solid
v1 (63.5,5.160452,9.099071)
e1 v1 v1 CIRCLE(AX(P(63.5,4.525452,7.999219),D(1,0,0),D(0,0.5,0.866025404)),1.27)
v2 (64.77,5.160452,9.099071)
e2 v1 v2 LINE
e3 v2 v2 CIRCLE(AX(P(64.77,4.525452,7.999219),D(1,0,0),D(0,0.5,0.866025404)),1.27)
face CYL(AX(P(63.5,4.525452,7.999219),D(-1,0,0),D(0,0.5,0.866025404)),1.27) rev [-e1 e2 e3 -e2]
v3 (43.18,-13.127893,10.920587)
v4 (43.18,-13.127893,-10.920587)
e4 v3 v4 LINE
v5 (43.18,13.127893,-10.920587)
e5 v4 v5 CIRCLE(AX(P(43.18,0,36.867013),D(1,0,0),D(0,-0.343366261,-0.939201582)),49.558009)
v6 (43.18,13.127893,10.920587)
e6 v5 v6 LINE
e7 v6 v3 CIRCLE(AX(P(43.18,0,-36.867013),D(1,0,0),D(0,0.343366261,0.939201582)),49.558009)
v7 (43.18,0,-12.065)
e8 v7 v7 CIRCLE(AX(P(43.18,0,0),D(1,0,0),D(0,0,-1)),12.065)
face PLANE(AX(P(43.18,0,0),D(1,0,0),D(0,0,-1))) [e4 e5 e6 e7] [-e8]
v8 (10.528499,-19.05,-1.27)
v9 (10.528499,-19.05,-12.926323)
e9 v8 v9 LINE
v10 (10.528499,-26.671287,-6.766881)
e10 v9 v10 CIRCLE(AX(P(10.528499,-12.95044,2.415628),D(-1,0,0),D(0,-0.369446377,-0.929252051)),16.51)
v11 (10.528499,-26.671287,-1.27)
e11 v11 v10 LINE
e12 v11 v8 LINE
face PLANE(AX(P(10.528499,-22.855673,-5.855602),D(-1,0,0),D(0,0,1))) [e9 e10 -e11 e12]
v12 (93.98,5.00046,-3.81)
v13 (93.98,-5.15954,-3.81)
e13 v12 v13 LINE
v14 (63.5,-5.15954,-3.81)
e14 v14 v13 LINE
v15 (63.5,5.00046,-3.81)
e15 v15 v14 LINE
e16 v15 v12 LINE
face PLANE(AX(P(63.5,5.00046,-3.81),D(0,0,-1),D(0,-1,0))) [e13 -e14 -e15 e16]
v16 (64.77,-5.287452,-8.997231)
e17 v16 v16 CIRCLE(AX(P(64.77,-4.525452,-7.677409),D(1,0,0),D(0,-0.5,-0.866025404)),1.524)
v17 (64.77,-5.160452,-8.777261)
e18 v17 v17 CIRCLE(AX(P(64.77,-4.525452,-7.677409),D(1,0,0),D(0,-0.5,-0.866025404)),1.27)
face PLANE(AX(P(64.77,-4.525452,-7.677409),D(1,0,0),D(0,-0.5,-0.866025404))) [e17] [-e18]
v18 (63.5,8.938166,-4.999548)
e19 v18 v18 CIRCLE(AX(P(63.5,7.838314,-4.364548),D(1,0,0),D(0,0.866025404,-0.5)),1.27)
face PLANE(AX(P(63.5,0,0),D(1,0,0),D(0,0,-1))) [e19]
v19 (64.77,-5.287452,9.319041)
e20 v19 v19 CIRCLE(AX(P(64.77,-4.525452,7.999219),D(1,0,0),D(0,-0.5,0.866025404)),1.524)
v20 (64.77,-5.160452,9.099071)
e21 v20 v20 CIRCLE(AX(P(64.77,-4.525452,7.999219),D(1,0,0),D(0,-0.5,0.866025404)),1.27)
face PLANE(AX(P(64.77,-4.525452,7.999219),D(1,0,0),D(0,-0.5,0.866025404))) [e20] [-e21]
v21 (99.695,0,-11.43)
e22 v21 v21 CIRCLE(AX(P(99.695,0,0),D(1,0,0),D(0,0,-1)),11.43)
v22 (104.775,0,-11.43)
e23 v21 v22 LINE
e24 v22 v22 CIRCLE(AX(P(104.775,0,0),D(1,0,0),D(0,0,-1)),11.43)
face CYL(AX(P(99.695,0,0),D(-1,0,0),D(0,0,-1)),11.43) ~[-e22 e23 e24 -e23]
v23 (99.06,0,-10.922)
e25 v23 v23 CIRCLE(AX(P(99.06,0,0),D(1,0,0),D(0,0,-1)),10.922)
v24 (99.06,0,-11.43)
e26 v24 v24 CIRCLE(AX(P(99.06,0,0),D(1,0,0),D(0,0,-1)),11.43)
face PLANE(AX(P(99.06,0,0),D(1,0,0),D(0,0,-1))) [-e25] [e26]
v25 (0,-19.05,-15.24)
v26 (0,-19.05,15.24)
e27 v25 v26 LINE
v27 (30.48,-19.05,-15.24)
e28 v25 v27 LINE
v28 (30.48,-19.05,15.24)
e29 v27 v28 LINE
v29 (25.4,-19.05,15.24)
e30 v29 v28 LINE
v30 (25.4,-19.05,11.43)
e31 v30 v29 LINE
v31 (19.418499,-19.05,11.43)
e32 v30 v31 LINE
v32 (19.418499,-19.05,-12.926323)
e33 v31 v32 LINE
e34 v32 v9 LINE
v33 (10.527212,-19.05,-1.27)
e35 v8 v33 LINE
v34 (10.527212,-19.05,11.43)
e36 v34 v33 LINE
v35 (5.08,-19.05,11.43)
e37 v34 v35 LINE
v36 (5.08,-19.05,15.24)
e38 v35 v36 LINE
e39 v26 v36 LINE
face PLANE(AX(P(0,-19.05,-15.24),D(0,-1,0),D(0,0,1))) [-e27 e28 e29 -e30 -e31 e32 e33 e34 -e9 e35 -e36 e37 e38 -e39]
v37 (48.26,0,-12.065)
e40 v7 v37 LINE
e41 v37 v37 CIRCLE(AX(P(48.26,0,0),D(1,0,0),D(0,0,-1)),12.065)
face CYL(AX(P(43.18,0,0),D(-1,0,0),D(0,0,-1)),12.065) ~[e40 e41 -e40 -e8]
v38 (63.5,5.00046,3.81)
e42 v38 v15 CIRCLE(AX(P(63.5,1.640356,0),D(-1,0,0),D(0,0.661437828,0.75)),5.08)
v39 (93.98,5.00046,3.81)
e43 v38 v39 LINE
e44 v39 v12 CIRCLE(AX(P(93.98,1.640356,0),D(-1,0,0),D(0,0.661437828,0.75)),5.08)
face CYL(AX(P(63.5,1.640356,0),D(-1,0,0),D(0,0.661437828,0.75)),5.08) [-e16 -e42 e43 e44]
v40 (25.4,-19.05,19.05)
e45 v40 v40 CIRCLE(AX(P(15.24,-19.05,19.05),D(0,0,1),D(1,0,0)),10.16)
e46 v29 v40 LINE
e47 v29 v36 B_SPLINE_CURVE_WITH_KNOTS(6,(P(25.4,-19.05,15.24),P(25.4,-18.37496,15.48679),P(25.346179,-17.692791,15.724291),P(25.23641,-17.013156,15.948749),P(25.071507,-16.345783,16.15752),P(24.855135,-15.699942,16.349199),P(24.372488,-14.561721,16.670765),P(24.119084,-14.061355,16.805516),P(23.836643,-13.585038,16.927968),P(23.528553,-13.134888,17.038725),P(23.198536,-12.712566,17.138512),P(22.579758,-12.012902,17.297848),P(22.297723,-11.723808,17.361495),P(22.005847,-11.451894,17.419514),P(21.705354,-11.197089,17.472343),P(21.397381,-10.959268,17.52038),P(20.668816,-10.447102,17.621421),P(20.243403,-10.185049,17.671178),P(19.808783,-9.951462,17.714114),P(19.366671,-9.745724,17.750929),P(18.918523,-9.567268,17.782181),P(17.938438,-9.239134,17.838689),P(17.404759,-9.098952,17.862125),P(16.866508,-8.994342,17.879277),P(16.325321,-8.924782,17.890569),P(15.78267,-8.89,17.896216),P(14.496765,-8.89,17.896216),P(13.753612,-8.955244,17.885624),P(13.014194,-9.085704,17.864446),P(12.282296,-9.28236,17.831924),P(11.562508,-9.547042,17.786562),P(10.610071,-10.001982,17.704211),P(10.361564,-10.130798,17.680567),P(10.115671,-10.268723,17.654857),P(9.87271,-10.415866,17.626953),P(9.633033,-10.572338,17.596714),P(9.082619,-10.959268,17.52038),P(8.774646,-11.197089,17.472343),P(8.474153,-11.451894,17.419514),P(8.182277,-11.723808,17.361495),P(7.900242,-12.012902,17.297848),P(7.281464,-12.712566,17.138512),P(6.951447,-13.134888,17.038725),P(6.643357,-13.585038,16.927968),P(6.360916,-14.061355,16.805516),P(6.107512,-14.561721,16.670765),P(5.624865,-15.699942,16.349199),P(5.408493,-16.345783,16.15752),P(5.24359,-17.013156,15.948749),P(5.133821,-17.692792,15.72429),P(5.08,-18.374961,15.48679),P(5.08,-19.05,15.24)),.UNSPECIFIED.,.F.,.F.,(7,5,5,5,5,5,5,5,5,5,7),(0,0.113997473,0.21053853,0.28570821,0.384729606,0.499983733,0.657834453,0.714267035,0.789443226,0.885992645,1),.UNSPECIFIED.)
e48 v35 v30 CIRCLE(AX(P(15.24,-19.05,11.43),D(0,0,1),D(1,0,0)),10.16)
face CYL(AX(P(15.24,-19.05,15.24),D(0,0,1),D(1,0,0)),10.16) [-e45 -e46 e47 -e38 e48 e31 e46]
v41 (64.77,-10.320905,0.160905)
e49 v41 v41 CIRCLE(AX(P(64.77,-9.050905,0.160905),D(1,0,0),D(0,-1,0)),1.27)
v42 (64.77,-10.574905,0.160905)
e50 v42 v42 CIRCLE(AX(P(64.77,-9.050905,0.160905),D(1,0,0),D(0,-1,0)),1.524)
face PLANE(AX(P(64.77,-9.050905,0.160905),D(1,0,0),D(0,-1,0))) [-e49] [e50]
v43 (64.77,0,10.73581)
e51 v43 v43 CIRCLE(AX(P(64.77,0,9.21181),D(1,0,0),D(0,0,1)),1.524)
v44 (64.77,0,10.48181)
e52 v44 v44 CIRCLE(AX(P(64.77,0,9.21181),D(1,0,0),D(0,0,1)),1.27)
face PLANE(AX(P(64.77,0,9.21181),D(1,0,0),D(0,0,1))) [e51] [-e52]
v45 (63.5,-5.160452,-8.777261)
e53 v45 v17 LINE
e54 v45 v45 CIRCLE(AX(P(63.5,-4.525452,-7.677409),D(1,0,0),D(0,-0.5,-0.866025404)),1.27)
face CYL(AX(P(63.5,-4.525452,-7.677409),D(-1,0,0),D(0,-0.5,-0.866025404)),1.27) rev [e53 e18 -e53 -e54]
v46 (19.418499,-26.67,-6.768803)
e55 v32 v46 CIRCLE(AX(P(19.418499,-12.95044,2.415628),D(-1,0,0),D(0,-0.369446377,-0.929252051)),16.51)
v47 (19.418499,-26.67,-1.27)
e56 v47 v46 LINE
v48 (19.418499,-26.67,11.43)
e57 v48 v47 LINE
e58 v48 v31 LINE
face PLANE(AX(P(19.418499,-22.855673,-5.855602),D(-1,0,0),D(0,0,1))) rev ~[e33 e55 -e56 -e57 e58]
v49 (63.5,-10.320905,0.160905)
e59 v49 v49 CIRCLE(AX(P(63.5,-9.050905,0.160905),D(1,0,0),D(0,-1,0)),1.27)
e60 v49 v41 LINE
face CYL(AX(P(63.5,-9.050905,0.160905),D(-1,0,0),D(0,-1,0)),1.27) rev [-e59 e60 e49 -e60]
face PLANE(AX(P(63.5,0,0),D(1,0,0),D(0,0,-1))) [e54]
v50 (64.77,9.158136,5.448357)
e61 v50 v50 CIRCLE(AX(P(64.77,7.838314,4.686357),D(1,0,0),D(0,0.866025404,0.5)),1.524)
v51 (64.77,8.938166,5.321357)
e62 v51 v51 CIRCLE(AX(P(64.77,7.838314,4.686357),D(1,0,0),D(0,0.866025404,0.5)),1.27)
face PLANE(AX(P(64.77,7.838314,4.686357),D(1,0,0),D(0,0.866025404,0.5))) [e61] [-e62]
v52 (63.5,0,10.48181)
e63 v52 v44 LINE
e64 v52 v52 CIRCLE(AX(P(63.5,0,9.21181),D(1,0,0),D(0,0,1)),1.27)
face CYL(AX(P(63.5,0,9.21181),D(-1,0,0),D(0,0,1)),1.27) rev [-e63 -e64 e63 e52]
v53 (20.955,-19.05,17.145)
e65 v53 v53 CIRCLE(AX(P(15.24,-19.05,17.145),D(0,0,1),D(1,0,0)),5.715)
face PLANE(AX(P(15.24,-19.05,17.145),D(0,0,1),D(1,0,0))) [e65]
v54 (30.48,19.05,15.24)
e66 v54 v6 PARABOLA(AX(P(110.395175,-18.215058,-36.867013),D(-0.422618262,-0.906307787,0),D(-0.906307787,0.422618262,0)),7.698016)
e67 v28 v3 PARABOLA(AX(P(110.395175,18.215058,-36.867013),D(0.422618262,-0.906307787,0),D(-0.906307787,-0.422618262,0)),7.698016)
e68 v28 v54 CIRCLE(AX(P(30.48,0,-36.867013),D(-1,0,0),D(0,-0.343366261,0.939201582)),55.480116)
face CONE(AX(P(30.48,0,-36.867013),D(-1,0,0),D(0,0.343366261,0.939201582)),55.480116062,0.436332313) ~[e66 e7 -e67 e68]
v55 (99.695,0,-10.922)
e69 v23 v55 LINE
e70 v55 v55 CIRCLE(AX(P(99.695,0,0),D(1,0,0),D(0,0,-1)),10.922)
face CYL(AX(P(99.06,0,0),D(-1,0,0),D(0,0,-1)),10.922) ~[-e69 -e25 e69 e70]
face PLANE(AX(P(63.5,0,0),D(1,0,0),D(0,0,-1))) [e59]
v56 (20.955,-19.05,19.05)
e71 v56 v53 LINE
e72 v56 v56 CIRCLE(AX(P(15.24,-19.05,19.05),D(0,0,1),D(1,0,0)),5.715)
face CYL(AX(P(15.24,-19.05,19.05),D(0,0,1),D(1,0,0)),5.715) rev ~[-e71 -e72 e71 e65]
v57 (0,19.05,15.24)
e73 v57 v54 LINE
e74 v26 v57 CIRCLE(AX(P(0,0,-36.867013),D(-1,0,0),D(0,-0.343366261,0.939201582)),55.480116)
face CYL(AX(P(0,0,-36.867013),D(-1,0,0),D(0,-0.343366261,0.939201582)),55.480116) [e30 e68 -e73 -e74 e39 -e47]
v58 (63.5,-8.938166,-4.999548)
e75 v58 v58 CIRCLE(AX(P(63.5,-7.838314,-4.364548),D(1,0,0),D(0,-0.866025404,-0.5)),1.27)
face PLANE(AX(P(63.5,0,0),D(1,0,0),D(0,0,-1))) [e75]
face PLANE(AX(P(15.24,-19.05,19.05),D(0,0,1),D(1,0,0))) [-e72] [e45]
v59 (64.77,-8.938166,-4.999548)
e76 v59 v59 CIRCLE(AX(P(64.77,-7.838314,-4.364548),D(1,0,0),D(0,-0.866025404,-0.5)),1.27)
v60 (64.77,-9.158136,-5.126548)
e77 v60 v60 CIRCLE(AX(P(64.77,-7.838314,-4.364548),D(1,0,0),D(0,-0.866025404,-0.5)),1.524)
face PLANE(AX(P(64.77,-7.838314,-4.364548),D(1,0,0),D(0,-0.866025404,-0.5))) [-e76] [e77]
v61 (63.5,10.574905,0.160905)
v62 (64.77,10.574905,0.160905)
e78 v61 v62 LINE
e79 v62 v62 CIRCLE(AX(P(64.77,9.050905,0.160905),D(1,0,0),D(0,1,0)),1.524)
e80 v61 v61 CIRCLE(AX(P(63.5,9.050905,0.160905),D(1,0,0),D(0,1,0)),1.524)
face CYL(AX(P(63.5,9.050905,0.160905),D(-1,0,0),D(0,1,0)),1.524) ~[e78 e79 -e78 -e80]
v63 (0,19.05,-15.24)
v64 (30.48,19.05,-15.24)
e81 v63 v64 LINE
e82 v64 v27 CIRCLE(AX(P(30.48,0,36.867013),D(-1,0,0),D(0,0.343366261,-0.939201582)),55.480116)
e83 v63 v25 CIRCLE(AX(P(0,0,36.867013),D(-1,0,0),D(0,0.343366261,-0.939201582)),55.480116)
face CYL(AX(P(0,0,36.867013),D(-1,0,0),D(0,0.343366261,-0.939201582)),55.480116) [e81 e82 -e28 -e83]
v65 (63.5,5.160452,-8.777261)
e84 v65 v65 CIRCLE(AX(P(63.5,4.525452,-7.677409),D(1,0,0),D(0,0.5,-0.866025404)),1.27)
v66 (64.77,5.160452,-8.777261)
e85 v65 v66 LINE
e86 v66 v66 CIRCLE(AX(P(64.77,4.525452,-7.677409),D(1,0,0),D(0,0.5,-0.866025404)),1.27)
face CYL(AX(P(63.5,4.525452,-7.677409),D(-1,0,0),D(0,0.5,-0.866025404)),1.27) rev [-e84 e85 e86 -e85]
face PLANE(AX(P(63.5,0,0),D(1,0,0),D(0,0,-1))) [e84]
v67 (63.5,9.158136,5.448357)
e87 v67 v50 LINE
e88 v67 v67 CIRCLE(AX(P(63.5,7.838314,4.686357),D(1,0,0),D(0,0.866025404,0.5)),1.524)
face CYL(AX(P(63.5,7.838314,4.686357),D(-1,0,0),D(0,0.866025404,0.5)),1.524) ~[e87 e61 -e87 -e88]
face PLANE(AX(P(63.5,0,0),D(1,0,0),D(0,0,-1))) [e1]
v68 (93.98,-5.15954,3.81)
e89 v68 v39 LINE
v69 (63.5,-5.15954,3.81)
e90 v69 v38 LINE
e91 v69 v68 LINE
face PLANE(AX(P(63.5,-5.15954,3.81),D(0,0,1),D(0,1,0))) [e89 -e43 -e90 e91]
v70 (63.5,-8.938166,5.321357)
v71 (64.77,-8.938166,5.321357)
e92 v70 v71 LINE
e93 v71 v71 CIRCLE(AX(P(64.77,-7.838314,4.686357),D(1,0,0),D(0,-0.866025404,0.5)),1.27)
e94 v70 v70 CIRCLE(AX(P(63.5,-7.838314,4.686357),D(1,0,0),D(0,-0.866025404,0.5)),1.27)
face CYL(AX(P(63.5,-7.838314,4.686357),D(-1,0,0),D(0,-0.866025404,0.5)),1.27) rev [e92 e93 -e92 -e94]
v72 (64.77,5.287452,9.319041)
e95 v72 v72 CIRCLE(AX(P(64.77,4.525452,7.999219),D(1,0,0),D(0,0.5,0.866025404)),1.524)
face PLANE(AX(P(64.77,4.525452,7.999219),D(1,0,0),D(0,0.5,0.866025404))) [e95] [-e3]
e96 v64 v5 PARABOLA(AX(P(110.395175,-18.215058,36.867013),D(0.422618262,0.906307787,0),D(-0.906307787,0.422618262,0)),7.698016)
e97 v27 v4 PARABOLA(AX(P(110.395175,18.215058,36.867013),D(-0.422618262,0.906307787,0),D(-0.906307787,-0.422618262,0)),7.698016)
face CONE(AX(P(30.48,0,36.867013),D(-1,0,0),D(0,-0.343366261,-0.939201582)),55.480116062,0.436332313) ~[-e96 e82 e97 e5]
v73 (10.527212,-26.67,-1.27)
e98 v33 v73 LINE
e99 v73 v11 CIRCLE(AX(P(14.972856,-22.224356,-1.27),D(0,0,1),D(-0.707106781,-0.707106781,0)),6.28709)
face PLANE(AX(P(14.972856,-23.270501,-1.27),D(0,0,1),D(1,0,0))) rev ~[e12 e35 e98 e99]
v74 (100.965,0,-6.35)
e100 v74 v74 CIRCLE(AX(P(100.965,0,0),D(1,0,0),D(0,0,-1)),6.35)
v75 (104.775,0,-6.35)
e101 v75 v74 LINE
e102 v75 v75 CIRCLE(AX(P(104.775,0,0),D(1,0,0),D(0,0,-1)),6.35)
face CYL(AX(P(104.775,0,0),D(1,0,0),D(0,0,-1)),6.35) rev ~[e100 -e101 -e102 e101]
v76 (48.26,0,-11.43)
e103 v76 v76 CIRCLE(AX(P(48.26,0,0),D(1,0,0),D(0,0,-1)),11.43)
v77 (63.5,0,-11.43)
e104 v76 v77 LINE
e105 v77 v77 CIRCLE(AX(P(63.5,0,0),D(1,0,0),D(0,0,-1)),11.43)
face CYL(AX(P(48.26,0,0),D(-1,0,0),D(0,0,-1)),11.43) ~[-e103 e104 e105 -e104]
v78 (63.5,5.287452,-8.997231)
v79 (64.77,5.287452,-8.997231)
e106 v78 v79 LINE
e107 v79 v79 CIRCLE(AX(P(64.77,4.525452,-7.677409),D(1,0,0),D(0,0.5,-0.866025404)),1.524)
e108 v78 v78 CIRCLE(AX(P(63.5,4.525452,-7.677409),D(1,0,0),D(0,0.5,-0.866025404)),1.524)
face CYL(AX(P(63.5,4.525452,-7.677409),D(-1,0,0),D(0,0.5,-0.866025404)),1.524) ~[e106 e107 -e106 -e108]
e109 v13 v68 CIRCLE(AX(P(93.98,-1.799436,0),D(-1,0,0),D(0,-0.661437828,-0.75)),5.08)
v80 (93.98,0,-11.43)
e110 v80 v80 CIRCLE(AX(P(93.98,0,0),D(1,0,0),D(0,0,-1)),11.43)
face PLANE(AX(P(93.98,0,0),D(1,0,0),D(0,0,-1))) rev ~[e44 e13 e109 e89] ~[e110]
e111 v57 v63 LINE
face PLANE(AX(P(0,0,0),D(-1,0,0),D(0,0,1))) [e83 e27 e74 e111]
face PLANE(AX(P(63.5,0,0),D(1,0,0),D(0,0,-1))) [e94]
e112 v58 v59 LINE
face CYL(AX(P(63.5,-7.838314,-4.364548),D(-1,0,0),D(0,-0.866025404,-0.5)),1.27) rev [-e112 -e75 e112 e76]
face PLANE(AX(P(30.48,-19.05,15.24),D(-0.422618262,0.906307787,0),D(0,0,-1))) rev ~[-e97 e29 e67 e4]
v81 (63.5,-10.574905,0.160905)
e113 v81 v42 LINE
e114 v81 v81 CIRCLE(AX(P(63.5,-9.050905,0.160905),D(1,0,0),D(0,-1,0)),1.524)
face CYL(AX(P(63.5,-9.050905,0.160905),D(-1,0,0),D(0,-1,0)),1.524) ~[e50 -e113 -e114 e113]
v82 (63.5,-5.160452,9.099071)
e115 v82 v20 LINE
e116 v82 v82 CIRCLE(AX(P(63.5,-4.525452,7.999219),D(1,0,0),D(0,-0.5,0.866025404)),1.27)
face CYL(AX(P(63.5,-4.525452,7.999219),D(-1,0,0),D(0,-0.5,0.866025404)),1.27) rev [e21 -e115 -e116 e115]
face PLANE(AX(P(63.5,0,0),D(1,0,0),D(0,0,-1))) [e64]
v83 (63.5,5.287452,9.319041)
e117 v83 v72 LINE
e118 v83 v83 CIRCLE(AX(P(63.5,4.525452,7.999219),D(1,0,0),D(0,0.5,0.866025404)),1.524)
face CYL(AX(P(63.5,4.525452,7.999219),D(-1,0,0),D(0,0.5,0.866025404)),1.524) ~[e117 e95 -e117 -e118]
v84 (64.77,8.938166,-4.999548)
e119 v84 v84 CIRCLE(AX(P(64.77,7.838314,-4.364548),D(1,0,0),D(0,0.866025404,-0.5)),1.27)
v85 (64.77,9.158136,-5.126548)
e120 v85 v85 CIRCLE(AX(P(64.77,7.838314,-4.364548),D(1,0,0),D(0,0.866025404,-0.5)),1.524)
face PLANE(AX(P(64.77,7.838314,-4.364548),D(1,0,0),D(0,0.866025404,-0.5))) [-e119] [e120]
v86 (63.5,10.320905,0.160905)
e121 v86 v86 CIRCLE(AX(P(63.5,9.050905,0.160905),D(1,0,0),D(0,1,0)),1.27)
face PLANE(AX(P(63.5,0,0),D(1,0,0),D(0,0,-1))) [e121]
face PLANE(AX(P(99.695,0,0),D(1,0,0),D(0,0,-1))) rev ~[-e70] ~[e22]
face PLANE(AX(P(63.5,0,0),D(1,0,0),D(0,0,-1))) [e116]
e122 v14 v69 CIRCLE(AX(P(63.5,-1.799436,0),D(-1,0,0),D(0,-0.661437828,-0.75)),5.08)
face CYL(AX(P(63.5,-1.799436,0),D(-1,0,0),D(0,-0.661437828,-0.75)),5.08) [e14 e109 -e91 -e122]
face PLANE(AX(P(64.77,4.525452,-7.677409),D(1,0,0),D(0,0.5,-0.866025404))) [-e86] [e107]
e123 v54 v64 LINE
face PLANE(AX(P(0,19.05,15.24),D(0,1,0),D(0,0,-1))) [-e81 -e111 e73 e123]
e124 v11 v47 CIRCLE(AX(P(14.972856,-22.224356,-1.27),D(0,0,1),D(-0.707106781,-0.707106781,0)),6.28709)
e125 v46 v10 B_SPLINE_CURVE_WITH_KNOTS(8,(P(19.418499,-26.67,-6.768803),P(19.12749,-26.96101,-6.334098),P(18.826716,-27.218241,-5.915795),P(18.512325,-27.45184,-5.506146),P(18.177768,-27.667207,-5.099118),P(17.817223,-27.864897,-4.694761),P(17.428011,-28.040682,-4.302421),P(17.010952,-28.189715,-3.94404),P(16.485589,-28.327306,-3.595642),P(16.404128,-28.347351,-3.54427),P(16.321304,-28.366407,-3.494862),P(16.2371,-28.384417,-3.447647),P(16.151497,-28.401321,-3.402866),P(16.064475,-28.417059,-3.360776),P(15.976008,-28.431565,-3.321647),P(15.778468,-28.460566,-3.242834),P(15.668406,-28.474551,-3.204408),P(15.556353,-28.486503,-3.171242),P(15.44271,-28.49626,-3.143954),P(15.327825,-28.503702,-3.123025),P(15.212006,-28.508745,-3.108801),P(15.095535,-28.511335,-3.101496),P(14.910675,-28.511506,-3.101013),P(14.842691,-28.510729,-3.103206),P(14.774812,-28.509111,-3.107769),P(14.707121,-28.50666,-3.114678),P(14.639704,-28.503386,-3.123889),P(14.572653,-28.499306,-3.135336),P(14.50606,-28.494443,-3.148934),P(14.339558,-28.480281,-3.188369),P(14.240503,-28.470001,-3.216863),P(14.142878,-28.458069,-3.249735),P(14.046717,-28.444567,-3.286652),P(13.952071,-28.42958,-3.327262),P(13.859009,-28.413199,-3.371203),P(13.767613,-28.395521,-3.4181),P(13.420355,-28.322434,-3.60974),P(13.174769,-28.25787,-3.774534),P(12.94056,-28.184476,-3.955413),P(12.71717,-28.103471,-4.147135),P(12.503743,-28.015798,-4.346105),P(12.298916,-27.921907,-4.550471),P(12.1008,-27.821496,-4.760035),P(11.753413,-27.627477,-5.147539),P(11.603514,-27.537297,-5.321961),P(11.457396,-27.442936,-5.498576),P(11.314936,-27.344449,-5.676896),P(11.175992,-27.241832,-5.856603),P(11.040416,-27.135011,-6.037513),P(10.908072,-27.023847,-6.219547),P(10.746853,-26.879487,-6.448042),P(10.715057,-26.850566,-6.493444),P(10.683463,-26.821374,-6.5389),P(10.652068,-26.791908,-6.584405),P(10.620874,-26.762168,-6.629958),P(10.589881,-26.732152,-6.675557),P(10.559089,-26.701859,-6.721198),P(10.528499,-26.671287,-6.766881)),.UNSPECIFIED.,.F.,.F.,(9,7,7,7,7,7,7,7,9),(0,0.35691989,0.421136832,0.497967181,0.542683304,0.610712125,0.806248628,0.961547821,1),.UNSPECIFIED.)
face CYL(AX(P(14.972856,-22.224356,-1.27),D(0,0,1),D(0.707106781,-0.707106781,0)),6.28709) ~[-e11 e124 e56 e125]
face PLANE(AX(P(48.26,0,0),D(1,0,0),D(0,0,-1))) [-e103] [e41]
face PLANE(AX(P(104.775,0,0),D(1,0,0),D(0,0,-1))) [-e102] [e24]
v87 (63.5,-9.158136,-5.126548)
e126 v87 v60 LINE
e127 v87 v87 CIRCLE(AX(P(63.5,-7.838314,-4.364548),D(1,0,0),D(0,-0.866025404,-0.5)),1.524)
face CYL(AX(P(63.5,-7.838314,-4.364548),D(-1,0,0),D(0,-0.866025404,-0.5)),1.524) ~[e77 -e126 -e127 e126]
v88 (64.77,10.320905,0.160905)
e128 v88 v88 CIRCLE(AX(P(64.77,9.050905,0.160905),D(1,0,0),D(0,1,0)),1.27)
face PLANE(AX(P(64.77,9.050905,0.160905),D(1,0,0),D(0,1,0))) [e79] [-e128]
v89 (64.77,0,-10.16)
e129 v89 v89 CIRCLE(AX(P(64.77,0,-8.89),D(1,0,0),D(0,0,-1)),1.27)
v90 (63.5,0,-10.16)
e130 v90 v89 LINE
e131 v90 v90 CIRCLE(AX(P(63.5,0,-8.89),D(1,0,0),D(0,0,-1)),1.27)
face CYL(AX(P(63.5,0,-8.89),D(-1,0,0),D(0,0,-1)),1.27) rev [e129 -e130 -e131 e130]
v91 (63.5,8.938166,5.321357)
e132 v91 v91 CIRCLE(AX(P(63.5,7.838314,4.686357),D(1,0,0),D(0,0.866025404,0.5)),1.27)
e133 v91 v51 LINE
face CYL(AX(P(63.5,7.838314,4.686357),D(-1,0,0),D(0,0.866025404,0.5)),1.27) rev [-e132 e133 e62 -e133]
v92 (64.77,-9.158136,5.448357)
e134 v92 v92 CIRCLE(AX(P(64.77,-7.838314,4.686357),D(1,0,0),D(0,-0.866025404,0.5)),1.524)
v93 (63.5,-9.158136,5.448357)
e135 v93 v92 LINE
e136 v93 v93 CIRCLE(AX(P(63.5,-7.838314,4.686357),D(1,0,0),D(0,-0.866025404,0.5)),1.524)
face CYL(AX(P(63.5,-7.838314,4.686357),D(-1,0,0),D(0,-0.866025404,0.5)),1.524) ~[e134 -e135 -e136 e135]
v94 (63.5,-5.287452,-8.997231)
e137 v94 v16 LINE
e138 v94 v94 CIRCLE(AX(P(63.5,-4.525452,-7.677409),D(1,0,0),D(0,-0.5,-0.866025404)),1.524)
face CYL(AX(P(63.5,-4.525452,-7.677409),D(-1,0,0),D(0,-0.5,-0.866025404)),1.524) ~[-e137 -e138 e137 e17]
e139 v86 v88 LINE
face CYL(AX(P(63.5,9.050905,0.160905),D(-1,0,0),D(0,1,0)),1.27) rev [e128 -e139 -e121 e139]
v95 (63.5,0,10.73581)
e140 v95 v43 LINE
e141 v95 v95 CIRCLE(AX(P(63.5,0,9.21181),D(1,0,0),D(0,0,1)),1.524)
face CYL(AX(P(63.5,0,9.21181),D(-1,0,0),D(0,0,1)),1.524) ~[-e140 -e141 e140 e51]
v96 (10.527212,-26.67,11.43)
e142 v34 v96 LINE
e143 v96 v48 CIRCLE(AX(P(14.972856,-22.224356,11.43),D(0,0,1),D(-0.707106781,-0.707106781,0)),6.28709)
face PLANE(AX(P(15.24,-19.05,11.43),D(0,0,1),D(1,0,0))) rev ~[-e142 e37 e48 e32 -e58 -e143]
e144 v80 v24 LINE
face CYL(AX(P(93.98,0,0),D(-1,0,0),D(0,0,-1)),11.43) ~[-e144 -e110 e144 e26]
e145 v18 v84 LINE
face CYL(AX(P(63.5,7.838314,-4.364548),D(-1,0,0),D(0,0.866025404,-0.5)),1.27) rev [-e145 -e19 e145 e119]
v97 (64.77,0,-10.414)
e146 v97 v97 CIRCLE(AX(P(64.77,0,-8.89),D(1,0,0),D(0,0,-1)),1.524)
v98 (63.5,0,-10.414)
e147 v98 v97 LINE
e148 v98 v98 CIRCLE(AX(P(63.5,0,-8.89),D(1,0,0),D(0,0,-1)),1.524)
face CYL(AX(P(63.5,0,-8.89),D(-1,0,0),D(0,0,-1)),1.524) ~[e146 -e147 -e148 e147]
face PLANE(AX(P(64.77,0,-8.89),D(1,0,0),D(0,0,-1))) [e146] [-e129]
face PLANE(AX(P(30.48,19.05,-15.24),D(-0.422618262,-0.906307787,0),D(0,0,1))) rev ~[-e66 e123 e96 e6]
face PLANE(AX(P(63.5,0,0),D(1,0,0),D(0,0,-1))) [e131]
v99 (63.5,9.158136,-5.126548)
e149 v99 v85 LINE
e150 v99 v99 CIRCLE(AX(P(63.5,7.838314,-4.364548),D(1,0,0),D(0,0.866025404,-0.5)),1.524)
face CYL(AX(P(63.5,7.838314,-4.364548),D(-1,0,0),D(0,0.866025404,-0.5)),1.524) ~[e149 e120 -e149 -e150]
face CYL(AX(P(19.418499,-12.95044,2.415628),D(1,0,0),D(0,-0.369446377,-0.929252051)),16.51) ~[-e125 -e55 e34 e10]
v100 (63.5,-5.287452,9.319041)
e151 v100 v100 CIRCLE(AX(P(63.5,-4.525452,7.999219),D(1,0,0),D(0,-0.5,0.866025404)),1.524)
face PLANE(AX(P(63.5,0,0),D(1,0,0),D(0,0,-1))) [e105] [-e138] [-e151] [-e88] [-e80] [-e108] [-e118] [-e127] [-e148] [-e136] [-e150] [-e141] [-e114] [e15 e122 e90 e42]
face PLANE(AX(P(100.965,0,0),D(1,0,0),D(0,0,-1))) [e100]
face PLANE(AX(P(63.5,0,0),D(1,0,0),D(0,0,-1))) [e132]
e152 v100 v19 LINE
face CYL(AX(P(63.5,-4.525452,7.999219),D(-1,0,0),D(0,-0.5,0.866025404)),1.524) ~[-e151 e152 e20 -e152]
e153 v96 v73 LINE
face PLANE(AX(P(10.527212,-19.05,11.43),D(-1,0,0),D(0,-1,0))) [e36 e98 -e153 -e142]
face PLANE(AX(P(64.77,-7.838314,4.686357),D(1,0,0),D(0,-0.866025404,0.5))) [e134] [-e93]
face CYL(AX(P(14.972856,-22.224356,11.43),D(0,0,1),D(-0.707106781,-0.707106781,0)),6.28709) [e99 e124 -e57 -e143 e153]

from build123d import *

# Parameters (mm, degrees)
BOSS_EXTRUDE1_DEPTH  = 30.48
BOSS_EXTRUDE2_DEPTH  = 12.7
BOSS_EXTRUDE2_DRAFT  = 25
SKETCH9_R            = 12.065
BOSS_EXTRUDE3_DEPTH  = 5.08
SKETCH10_R           = 11.43
BOSS_EXTRUDE4_DEPTH  = 15.24
SKETCH12_R           = 1.524
SKETCH12_R_2         = 1.27
BOSS_EXTRUDE6_DEPTH  = 1.27
CIRPATTERN2_COUNT    = 12
BOSS_EXTRUDE7_DEPTH  = 30.48
SKETCH14_R           = 11.43
BOSS_EXTRUDE8_DEPTH  = 5.08
SKETCH15_R           = 10.922
BOSS_EXTRUDE9_DEPTH  = 0.635
SKETCH16_R           = 11.43
BOSS_EXTRUDE10_DEPTH = 5.08
SKETCH17_R           = 10.16
BOSS_EXTRUDE14_DEPTH = 3.81
BOSS_EXTRUDE15_DEPTH = 12.7
BOSS_EXTRUDE16_DEPTH = 8.89
CUT_EXTRUDE1_DEPTH   = 8.89
SKETCH22_R           = 6.35
CUT_EXTRUDE2_DEPTH   = 3.81
SKETCH23_R           = 5.715
CUT_EXTRUDE4_DEPTH   = 1.905


with BuildPart() as part:
    # Sketch2 → Boss-Extrude1 (new body)
    with BuildSketch(Plane(origin=(0, 0, 0), x_dir=(0, 0, -1), z_dir=(1, 0, 0))):
        with BuildLine():
            Line((-15.24, 19.05), (15.24, 19.05))
            ThreePointArc((15.24, 19.05), (18.613103307, 0), (15.24, -19.05))
            Line((15.24, -19.05), (-15.24, -19.05))
            ThreePointArc((-15.24, -19.05), (-18.613103307, 0), (-15.24, 19.05))
        make_face()
    extrude(amount=BOSS_EXTRUDE1_DEPTH)


with BuildPart() as boss_extrude2_tool:
    # Sketch8 → Boss-Extrude2 (with draft: the straight prism first)
    with BuildSketch(Plane(origin=(30.48, 0, 0), x_dir=(0, 0, -1), z_dir=(1, 0, 0))):
        with BuildLine():
            Line((15.24, 19.05), (-15.24, 19.05))
            ThreePointArc((-15.24, 19.05), (-18.613103307, 0), (-15.24, -19.05))
            Line((-15.24, -19.05), (15.24, -19.05))
            ThreePointArc((15.24, -19.05), (18.613103307, 0), (15.24, 19.05))
        make_face()
    extrude(amount=BOSS_EXTRUDE2_DEPTH)
    # Boss-Extrude2: the draft: its side faces are tilted about the plane it starts from
    boss_extrude2_sides = [boss_extrude2_tool.faces().sort_by_distance(p)[0] for p in [
        (36.83, 19.05, 0),
        (36.83, 0, 18.613103307),
        (36.83, -19.05, 0),
        (36.83, 0, -18.613103307),
    ]]
    draft(boss_extrude2_sides, Plane(origin=(30.48, 0, 0), x_dir=(0, 0, -1), z_dir=(1, 0, 0)), BOSS_EXTRUDE2_DRAFT)


with BuildPart() as part_1:
    add(part.part)

    # Boss-Extrude2: add boss_extrude2_tool
    add(boss_extrude2_tool.part)

    # Sketch9 → Boss-Extrude3 (add)
    with BuildSketch(Plane(origin=(43.18, 0, 0), x_dir=(0, 0, -1), z_dir=(1, 0, 0))):
        Circle(SKETCH9_R)
    extrude(amount=BOSS_EXTRUDE3_DEPTH)

    # Sketch10 → Boss-Extrude4 (add)
    with BuildSketch(Plane(origin=(48.26, 0, 0), x_dir=(0, 0, -1), z_dir=(1, 0, 0))):
        Circle(SKETCH10_R)
    extrude(amount=BOSS_EXTRUDE4_DEPTH)

    # Sketch12 → Boss-Extrude6 (add)
    with BuildSketch(Plane(origin=(63.5, 0, 0), x_dir=(0, 0, -1), z_dir=(1, 0, 0))):
        with Locations((8.89, 0)):
            Circle(SKETCH12_R)
        with Locations((8.89, 0)):
            Circle(SKETCH12_R_2, mode=Mode.SUBTRACT)
    boss_extrude6 = extrude(amount=BOSS_EXTRUDE6_DEPTH)

    # CirPattern2: Boss-Extrude6 ×12 about axis
    cirpattern2_axis = Axis((0, 0, 0.160904977), (1, 0, 0))
    for i in range(1, CIRPATTERN2_COUNT):
        add(boss_extrude6.rotate(cirpattern2_axis, i * 360 / CIRPATTERN2_COUNT))

    # Sketch13 → Boss-Extrude7 (add)
    with BuildSketch(Plane(origin=(63.5, 0, 0), x_dir=(0, 0, -1), z_dir=(1, 0, 0))):
        with BuildLine():
            Line((3.81, 5.000460116), (3.81, -5.159539884))
            ThreePointArc((3.81, -5.159539884), (0, -6.879435719), (-3.81, -5.159539884))
            Line((-3.81, -5.159539884), (-3.81, 5.000460116))
            ThreePointArc((-3.81, 5.000460116), (0, 6.720355951), (3.81, 5.000460116))
        make_face()
    extrude(amount=BOSS_EXTRUDE7_DEPTH)

    # Sketch14 → Boss-Extrude8 (add)
    with BuildSketch(Plane(origin=(93.98, 0, 0), x_dir=(0, 0, -1), z_dir=(1, 0, 0))):
        Circle(SKETCH14_R)
    extrude(amount=BOSS_EXTRUDE8_DEPTH)

    # Sketch15 → Boss-Extrude9 (add)
    with BuildSketch(Plane(origin=(99.06, 0, 0), x_dir=(0, 0, -1), z_dir=(1, 0, 0))):
        Circle(SKETCH15_R)
    extrude(amount=BOSS_EXTRUDE9_DEPTH)

    # Sketch16 → Boss-Extrude10 (add)
    with BuildSketch(Plane(origin=(99.695, 0, 0), x_dir=(0, 0, -1), z_dir=(1, 0, 0))):
        Circle(SKETCH16_R)
    extrude(amount=BOSS_EXTRUDE10_DEPTH)

    # Sketch17 → Boss-Extrude14 (add, symmetric)
    with BuildSketch(Plane.XY.offset(15.24)):
        with Locations((15.24, -19.05)):
            Circle(SKETCH17_R)
    extrude(amount=BOSS_EXTRUDE14_DEPTH, both=True)

    # Sketch19 → Boss-Extrude15 (add)
    with BuildSketch(Plane(origin=(0, 0, 11.43), x_dir=(-1, 0, 0), z_dir=(0, 0, -1))):
        with BuildLine():
            Line((-19.418499269, -19.05), (-10.527211987, -19.05))
            Line((-10.527211987, -19.05), (-10.527211987, -26.67))
            ThreePointArc((-10.527211987, -26.67), (-14.972855628, -28.51144589), (-19.418499269, -26.67))
            Line((-19.418499269, -26.67), (-19.418499269, -19.05))
        make_face()
    extrude(amount=BOSS_EXTRUDE15_DEPTH)

    # Sketch20 → Boss-Extrude16 (add)
    with BuildSketch(Plane(origin=(19.418499269, 0, 0), x_dir=(0, 0, -1), z_dir=(1, 0, 0))):
        with BuildLine():
            Line((1.27, -19.05), (12.926323027, -19.05))
            ThreePointArc((12.926323027, -19.05), (8.330590053, -25.484349932), (1.27, -29.043800552))
            Line((1.27, -29.043800552), (1.27, -19.05))
        make_face()
    extrude(amount=-BOSS_EXTRUDE16_DEPTH)

    # Sketch21 → Cut-Extrude1 (cut)
    with BuildSketch(Plane.XY.offset(-1.27)):
        with BuildLine():
            Line((10.528499269, -26.671286909), (10.528499269, -29.043800552))
            Line((10.528499269, -29.043800552), (19.418499269, -29.043800552))
            Line((19.418499269, -29.043800552), (19.418499269, -26.67))
            ThreePointArc((19.418499269, -26.67), (14.973765742, -28.511445824), (10.528499269, -26.671286909))
        make_face()
    extrude(amount=-CUT_EXTRUDE1_DEPTH, mode=Mode.SUBTRACT)

    # Sketch22 → Cut-Extrude2 (cut)
    with BuildSketch(Plane(origin=(104.775, 0, 0), x_dir=(0, 0, -1), z_dir=(1, 0, 0))):
        Circle(SKETCH22_R)
    extrude(amount=-CUT_EXTRUDE2_DEPTH, mode=Mode.SUBTRACT)

    # Sketch23 → Cut-Extrude4 (cut)
    with BuildSketch(Plane.XY.offset(19.05)):
        with Locations((15.24, -19.05)):
            Circle(SKETCH23_R)
    extrude(amount=-CUT_EXTRUDE4_DEPTH, mode=Mode.SUBTRACT)


solid = part_1.part
